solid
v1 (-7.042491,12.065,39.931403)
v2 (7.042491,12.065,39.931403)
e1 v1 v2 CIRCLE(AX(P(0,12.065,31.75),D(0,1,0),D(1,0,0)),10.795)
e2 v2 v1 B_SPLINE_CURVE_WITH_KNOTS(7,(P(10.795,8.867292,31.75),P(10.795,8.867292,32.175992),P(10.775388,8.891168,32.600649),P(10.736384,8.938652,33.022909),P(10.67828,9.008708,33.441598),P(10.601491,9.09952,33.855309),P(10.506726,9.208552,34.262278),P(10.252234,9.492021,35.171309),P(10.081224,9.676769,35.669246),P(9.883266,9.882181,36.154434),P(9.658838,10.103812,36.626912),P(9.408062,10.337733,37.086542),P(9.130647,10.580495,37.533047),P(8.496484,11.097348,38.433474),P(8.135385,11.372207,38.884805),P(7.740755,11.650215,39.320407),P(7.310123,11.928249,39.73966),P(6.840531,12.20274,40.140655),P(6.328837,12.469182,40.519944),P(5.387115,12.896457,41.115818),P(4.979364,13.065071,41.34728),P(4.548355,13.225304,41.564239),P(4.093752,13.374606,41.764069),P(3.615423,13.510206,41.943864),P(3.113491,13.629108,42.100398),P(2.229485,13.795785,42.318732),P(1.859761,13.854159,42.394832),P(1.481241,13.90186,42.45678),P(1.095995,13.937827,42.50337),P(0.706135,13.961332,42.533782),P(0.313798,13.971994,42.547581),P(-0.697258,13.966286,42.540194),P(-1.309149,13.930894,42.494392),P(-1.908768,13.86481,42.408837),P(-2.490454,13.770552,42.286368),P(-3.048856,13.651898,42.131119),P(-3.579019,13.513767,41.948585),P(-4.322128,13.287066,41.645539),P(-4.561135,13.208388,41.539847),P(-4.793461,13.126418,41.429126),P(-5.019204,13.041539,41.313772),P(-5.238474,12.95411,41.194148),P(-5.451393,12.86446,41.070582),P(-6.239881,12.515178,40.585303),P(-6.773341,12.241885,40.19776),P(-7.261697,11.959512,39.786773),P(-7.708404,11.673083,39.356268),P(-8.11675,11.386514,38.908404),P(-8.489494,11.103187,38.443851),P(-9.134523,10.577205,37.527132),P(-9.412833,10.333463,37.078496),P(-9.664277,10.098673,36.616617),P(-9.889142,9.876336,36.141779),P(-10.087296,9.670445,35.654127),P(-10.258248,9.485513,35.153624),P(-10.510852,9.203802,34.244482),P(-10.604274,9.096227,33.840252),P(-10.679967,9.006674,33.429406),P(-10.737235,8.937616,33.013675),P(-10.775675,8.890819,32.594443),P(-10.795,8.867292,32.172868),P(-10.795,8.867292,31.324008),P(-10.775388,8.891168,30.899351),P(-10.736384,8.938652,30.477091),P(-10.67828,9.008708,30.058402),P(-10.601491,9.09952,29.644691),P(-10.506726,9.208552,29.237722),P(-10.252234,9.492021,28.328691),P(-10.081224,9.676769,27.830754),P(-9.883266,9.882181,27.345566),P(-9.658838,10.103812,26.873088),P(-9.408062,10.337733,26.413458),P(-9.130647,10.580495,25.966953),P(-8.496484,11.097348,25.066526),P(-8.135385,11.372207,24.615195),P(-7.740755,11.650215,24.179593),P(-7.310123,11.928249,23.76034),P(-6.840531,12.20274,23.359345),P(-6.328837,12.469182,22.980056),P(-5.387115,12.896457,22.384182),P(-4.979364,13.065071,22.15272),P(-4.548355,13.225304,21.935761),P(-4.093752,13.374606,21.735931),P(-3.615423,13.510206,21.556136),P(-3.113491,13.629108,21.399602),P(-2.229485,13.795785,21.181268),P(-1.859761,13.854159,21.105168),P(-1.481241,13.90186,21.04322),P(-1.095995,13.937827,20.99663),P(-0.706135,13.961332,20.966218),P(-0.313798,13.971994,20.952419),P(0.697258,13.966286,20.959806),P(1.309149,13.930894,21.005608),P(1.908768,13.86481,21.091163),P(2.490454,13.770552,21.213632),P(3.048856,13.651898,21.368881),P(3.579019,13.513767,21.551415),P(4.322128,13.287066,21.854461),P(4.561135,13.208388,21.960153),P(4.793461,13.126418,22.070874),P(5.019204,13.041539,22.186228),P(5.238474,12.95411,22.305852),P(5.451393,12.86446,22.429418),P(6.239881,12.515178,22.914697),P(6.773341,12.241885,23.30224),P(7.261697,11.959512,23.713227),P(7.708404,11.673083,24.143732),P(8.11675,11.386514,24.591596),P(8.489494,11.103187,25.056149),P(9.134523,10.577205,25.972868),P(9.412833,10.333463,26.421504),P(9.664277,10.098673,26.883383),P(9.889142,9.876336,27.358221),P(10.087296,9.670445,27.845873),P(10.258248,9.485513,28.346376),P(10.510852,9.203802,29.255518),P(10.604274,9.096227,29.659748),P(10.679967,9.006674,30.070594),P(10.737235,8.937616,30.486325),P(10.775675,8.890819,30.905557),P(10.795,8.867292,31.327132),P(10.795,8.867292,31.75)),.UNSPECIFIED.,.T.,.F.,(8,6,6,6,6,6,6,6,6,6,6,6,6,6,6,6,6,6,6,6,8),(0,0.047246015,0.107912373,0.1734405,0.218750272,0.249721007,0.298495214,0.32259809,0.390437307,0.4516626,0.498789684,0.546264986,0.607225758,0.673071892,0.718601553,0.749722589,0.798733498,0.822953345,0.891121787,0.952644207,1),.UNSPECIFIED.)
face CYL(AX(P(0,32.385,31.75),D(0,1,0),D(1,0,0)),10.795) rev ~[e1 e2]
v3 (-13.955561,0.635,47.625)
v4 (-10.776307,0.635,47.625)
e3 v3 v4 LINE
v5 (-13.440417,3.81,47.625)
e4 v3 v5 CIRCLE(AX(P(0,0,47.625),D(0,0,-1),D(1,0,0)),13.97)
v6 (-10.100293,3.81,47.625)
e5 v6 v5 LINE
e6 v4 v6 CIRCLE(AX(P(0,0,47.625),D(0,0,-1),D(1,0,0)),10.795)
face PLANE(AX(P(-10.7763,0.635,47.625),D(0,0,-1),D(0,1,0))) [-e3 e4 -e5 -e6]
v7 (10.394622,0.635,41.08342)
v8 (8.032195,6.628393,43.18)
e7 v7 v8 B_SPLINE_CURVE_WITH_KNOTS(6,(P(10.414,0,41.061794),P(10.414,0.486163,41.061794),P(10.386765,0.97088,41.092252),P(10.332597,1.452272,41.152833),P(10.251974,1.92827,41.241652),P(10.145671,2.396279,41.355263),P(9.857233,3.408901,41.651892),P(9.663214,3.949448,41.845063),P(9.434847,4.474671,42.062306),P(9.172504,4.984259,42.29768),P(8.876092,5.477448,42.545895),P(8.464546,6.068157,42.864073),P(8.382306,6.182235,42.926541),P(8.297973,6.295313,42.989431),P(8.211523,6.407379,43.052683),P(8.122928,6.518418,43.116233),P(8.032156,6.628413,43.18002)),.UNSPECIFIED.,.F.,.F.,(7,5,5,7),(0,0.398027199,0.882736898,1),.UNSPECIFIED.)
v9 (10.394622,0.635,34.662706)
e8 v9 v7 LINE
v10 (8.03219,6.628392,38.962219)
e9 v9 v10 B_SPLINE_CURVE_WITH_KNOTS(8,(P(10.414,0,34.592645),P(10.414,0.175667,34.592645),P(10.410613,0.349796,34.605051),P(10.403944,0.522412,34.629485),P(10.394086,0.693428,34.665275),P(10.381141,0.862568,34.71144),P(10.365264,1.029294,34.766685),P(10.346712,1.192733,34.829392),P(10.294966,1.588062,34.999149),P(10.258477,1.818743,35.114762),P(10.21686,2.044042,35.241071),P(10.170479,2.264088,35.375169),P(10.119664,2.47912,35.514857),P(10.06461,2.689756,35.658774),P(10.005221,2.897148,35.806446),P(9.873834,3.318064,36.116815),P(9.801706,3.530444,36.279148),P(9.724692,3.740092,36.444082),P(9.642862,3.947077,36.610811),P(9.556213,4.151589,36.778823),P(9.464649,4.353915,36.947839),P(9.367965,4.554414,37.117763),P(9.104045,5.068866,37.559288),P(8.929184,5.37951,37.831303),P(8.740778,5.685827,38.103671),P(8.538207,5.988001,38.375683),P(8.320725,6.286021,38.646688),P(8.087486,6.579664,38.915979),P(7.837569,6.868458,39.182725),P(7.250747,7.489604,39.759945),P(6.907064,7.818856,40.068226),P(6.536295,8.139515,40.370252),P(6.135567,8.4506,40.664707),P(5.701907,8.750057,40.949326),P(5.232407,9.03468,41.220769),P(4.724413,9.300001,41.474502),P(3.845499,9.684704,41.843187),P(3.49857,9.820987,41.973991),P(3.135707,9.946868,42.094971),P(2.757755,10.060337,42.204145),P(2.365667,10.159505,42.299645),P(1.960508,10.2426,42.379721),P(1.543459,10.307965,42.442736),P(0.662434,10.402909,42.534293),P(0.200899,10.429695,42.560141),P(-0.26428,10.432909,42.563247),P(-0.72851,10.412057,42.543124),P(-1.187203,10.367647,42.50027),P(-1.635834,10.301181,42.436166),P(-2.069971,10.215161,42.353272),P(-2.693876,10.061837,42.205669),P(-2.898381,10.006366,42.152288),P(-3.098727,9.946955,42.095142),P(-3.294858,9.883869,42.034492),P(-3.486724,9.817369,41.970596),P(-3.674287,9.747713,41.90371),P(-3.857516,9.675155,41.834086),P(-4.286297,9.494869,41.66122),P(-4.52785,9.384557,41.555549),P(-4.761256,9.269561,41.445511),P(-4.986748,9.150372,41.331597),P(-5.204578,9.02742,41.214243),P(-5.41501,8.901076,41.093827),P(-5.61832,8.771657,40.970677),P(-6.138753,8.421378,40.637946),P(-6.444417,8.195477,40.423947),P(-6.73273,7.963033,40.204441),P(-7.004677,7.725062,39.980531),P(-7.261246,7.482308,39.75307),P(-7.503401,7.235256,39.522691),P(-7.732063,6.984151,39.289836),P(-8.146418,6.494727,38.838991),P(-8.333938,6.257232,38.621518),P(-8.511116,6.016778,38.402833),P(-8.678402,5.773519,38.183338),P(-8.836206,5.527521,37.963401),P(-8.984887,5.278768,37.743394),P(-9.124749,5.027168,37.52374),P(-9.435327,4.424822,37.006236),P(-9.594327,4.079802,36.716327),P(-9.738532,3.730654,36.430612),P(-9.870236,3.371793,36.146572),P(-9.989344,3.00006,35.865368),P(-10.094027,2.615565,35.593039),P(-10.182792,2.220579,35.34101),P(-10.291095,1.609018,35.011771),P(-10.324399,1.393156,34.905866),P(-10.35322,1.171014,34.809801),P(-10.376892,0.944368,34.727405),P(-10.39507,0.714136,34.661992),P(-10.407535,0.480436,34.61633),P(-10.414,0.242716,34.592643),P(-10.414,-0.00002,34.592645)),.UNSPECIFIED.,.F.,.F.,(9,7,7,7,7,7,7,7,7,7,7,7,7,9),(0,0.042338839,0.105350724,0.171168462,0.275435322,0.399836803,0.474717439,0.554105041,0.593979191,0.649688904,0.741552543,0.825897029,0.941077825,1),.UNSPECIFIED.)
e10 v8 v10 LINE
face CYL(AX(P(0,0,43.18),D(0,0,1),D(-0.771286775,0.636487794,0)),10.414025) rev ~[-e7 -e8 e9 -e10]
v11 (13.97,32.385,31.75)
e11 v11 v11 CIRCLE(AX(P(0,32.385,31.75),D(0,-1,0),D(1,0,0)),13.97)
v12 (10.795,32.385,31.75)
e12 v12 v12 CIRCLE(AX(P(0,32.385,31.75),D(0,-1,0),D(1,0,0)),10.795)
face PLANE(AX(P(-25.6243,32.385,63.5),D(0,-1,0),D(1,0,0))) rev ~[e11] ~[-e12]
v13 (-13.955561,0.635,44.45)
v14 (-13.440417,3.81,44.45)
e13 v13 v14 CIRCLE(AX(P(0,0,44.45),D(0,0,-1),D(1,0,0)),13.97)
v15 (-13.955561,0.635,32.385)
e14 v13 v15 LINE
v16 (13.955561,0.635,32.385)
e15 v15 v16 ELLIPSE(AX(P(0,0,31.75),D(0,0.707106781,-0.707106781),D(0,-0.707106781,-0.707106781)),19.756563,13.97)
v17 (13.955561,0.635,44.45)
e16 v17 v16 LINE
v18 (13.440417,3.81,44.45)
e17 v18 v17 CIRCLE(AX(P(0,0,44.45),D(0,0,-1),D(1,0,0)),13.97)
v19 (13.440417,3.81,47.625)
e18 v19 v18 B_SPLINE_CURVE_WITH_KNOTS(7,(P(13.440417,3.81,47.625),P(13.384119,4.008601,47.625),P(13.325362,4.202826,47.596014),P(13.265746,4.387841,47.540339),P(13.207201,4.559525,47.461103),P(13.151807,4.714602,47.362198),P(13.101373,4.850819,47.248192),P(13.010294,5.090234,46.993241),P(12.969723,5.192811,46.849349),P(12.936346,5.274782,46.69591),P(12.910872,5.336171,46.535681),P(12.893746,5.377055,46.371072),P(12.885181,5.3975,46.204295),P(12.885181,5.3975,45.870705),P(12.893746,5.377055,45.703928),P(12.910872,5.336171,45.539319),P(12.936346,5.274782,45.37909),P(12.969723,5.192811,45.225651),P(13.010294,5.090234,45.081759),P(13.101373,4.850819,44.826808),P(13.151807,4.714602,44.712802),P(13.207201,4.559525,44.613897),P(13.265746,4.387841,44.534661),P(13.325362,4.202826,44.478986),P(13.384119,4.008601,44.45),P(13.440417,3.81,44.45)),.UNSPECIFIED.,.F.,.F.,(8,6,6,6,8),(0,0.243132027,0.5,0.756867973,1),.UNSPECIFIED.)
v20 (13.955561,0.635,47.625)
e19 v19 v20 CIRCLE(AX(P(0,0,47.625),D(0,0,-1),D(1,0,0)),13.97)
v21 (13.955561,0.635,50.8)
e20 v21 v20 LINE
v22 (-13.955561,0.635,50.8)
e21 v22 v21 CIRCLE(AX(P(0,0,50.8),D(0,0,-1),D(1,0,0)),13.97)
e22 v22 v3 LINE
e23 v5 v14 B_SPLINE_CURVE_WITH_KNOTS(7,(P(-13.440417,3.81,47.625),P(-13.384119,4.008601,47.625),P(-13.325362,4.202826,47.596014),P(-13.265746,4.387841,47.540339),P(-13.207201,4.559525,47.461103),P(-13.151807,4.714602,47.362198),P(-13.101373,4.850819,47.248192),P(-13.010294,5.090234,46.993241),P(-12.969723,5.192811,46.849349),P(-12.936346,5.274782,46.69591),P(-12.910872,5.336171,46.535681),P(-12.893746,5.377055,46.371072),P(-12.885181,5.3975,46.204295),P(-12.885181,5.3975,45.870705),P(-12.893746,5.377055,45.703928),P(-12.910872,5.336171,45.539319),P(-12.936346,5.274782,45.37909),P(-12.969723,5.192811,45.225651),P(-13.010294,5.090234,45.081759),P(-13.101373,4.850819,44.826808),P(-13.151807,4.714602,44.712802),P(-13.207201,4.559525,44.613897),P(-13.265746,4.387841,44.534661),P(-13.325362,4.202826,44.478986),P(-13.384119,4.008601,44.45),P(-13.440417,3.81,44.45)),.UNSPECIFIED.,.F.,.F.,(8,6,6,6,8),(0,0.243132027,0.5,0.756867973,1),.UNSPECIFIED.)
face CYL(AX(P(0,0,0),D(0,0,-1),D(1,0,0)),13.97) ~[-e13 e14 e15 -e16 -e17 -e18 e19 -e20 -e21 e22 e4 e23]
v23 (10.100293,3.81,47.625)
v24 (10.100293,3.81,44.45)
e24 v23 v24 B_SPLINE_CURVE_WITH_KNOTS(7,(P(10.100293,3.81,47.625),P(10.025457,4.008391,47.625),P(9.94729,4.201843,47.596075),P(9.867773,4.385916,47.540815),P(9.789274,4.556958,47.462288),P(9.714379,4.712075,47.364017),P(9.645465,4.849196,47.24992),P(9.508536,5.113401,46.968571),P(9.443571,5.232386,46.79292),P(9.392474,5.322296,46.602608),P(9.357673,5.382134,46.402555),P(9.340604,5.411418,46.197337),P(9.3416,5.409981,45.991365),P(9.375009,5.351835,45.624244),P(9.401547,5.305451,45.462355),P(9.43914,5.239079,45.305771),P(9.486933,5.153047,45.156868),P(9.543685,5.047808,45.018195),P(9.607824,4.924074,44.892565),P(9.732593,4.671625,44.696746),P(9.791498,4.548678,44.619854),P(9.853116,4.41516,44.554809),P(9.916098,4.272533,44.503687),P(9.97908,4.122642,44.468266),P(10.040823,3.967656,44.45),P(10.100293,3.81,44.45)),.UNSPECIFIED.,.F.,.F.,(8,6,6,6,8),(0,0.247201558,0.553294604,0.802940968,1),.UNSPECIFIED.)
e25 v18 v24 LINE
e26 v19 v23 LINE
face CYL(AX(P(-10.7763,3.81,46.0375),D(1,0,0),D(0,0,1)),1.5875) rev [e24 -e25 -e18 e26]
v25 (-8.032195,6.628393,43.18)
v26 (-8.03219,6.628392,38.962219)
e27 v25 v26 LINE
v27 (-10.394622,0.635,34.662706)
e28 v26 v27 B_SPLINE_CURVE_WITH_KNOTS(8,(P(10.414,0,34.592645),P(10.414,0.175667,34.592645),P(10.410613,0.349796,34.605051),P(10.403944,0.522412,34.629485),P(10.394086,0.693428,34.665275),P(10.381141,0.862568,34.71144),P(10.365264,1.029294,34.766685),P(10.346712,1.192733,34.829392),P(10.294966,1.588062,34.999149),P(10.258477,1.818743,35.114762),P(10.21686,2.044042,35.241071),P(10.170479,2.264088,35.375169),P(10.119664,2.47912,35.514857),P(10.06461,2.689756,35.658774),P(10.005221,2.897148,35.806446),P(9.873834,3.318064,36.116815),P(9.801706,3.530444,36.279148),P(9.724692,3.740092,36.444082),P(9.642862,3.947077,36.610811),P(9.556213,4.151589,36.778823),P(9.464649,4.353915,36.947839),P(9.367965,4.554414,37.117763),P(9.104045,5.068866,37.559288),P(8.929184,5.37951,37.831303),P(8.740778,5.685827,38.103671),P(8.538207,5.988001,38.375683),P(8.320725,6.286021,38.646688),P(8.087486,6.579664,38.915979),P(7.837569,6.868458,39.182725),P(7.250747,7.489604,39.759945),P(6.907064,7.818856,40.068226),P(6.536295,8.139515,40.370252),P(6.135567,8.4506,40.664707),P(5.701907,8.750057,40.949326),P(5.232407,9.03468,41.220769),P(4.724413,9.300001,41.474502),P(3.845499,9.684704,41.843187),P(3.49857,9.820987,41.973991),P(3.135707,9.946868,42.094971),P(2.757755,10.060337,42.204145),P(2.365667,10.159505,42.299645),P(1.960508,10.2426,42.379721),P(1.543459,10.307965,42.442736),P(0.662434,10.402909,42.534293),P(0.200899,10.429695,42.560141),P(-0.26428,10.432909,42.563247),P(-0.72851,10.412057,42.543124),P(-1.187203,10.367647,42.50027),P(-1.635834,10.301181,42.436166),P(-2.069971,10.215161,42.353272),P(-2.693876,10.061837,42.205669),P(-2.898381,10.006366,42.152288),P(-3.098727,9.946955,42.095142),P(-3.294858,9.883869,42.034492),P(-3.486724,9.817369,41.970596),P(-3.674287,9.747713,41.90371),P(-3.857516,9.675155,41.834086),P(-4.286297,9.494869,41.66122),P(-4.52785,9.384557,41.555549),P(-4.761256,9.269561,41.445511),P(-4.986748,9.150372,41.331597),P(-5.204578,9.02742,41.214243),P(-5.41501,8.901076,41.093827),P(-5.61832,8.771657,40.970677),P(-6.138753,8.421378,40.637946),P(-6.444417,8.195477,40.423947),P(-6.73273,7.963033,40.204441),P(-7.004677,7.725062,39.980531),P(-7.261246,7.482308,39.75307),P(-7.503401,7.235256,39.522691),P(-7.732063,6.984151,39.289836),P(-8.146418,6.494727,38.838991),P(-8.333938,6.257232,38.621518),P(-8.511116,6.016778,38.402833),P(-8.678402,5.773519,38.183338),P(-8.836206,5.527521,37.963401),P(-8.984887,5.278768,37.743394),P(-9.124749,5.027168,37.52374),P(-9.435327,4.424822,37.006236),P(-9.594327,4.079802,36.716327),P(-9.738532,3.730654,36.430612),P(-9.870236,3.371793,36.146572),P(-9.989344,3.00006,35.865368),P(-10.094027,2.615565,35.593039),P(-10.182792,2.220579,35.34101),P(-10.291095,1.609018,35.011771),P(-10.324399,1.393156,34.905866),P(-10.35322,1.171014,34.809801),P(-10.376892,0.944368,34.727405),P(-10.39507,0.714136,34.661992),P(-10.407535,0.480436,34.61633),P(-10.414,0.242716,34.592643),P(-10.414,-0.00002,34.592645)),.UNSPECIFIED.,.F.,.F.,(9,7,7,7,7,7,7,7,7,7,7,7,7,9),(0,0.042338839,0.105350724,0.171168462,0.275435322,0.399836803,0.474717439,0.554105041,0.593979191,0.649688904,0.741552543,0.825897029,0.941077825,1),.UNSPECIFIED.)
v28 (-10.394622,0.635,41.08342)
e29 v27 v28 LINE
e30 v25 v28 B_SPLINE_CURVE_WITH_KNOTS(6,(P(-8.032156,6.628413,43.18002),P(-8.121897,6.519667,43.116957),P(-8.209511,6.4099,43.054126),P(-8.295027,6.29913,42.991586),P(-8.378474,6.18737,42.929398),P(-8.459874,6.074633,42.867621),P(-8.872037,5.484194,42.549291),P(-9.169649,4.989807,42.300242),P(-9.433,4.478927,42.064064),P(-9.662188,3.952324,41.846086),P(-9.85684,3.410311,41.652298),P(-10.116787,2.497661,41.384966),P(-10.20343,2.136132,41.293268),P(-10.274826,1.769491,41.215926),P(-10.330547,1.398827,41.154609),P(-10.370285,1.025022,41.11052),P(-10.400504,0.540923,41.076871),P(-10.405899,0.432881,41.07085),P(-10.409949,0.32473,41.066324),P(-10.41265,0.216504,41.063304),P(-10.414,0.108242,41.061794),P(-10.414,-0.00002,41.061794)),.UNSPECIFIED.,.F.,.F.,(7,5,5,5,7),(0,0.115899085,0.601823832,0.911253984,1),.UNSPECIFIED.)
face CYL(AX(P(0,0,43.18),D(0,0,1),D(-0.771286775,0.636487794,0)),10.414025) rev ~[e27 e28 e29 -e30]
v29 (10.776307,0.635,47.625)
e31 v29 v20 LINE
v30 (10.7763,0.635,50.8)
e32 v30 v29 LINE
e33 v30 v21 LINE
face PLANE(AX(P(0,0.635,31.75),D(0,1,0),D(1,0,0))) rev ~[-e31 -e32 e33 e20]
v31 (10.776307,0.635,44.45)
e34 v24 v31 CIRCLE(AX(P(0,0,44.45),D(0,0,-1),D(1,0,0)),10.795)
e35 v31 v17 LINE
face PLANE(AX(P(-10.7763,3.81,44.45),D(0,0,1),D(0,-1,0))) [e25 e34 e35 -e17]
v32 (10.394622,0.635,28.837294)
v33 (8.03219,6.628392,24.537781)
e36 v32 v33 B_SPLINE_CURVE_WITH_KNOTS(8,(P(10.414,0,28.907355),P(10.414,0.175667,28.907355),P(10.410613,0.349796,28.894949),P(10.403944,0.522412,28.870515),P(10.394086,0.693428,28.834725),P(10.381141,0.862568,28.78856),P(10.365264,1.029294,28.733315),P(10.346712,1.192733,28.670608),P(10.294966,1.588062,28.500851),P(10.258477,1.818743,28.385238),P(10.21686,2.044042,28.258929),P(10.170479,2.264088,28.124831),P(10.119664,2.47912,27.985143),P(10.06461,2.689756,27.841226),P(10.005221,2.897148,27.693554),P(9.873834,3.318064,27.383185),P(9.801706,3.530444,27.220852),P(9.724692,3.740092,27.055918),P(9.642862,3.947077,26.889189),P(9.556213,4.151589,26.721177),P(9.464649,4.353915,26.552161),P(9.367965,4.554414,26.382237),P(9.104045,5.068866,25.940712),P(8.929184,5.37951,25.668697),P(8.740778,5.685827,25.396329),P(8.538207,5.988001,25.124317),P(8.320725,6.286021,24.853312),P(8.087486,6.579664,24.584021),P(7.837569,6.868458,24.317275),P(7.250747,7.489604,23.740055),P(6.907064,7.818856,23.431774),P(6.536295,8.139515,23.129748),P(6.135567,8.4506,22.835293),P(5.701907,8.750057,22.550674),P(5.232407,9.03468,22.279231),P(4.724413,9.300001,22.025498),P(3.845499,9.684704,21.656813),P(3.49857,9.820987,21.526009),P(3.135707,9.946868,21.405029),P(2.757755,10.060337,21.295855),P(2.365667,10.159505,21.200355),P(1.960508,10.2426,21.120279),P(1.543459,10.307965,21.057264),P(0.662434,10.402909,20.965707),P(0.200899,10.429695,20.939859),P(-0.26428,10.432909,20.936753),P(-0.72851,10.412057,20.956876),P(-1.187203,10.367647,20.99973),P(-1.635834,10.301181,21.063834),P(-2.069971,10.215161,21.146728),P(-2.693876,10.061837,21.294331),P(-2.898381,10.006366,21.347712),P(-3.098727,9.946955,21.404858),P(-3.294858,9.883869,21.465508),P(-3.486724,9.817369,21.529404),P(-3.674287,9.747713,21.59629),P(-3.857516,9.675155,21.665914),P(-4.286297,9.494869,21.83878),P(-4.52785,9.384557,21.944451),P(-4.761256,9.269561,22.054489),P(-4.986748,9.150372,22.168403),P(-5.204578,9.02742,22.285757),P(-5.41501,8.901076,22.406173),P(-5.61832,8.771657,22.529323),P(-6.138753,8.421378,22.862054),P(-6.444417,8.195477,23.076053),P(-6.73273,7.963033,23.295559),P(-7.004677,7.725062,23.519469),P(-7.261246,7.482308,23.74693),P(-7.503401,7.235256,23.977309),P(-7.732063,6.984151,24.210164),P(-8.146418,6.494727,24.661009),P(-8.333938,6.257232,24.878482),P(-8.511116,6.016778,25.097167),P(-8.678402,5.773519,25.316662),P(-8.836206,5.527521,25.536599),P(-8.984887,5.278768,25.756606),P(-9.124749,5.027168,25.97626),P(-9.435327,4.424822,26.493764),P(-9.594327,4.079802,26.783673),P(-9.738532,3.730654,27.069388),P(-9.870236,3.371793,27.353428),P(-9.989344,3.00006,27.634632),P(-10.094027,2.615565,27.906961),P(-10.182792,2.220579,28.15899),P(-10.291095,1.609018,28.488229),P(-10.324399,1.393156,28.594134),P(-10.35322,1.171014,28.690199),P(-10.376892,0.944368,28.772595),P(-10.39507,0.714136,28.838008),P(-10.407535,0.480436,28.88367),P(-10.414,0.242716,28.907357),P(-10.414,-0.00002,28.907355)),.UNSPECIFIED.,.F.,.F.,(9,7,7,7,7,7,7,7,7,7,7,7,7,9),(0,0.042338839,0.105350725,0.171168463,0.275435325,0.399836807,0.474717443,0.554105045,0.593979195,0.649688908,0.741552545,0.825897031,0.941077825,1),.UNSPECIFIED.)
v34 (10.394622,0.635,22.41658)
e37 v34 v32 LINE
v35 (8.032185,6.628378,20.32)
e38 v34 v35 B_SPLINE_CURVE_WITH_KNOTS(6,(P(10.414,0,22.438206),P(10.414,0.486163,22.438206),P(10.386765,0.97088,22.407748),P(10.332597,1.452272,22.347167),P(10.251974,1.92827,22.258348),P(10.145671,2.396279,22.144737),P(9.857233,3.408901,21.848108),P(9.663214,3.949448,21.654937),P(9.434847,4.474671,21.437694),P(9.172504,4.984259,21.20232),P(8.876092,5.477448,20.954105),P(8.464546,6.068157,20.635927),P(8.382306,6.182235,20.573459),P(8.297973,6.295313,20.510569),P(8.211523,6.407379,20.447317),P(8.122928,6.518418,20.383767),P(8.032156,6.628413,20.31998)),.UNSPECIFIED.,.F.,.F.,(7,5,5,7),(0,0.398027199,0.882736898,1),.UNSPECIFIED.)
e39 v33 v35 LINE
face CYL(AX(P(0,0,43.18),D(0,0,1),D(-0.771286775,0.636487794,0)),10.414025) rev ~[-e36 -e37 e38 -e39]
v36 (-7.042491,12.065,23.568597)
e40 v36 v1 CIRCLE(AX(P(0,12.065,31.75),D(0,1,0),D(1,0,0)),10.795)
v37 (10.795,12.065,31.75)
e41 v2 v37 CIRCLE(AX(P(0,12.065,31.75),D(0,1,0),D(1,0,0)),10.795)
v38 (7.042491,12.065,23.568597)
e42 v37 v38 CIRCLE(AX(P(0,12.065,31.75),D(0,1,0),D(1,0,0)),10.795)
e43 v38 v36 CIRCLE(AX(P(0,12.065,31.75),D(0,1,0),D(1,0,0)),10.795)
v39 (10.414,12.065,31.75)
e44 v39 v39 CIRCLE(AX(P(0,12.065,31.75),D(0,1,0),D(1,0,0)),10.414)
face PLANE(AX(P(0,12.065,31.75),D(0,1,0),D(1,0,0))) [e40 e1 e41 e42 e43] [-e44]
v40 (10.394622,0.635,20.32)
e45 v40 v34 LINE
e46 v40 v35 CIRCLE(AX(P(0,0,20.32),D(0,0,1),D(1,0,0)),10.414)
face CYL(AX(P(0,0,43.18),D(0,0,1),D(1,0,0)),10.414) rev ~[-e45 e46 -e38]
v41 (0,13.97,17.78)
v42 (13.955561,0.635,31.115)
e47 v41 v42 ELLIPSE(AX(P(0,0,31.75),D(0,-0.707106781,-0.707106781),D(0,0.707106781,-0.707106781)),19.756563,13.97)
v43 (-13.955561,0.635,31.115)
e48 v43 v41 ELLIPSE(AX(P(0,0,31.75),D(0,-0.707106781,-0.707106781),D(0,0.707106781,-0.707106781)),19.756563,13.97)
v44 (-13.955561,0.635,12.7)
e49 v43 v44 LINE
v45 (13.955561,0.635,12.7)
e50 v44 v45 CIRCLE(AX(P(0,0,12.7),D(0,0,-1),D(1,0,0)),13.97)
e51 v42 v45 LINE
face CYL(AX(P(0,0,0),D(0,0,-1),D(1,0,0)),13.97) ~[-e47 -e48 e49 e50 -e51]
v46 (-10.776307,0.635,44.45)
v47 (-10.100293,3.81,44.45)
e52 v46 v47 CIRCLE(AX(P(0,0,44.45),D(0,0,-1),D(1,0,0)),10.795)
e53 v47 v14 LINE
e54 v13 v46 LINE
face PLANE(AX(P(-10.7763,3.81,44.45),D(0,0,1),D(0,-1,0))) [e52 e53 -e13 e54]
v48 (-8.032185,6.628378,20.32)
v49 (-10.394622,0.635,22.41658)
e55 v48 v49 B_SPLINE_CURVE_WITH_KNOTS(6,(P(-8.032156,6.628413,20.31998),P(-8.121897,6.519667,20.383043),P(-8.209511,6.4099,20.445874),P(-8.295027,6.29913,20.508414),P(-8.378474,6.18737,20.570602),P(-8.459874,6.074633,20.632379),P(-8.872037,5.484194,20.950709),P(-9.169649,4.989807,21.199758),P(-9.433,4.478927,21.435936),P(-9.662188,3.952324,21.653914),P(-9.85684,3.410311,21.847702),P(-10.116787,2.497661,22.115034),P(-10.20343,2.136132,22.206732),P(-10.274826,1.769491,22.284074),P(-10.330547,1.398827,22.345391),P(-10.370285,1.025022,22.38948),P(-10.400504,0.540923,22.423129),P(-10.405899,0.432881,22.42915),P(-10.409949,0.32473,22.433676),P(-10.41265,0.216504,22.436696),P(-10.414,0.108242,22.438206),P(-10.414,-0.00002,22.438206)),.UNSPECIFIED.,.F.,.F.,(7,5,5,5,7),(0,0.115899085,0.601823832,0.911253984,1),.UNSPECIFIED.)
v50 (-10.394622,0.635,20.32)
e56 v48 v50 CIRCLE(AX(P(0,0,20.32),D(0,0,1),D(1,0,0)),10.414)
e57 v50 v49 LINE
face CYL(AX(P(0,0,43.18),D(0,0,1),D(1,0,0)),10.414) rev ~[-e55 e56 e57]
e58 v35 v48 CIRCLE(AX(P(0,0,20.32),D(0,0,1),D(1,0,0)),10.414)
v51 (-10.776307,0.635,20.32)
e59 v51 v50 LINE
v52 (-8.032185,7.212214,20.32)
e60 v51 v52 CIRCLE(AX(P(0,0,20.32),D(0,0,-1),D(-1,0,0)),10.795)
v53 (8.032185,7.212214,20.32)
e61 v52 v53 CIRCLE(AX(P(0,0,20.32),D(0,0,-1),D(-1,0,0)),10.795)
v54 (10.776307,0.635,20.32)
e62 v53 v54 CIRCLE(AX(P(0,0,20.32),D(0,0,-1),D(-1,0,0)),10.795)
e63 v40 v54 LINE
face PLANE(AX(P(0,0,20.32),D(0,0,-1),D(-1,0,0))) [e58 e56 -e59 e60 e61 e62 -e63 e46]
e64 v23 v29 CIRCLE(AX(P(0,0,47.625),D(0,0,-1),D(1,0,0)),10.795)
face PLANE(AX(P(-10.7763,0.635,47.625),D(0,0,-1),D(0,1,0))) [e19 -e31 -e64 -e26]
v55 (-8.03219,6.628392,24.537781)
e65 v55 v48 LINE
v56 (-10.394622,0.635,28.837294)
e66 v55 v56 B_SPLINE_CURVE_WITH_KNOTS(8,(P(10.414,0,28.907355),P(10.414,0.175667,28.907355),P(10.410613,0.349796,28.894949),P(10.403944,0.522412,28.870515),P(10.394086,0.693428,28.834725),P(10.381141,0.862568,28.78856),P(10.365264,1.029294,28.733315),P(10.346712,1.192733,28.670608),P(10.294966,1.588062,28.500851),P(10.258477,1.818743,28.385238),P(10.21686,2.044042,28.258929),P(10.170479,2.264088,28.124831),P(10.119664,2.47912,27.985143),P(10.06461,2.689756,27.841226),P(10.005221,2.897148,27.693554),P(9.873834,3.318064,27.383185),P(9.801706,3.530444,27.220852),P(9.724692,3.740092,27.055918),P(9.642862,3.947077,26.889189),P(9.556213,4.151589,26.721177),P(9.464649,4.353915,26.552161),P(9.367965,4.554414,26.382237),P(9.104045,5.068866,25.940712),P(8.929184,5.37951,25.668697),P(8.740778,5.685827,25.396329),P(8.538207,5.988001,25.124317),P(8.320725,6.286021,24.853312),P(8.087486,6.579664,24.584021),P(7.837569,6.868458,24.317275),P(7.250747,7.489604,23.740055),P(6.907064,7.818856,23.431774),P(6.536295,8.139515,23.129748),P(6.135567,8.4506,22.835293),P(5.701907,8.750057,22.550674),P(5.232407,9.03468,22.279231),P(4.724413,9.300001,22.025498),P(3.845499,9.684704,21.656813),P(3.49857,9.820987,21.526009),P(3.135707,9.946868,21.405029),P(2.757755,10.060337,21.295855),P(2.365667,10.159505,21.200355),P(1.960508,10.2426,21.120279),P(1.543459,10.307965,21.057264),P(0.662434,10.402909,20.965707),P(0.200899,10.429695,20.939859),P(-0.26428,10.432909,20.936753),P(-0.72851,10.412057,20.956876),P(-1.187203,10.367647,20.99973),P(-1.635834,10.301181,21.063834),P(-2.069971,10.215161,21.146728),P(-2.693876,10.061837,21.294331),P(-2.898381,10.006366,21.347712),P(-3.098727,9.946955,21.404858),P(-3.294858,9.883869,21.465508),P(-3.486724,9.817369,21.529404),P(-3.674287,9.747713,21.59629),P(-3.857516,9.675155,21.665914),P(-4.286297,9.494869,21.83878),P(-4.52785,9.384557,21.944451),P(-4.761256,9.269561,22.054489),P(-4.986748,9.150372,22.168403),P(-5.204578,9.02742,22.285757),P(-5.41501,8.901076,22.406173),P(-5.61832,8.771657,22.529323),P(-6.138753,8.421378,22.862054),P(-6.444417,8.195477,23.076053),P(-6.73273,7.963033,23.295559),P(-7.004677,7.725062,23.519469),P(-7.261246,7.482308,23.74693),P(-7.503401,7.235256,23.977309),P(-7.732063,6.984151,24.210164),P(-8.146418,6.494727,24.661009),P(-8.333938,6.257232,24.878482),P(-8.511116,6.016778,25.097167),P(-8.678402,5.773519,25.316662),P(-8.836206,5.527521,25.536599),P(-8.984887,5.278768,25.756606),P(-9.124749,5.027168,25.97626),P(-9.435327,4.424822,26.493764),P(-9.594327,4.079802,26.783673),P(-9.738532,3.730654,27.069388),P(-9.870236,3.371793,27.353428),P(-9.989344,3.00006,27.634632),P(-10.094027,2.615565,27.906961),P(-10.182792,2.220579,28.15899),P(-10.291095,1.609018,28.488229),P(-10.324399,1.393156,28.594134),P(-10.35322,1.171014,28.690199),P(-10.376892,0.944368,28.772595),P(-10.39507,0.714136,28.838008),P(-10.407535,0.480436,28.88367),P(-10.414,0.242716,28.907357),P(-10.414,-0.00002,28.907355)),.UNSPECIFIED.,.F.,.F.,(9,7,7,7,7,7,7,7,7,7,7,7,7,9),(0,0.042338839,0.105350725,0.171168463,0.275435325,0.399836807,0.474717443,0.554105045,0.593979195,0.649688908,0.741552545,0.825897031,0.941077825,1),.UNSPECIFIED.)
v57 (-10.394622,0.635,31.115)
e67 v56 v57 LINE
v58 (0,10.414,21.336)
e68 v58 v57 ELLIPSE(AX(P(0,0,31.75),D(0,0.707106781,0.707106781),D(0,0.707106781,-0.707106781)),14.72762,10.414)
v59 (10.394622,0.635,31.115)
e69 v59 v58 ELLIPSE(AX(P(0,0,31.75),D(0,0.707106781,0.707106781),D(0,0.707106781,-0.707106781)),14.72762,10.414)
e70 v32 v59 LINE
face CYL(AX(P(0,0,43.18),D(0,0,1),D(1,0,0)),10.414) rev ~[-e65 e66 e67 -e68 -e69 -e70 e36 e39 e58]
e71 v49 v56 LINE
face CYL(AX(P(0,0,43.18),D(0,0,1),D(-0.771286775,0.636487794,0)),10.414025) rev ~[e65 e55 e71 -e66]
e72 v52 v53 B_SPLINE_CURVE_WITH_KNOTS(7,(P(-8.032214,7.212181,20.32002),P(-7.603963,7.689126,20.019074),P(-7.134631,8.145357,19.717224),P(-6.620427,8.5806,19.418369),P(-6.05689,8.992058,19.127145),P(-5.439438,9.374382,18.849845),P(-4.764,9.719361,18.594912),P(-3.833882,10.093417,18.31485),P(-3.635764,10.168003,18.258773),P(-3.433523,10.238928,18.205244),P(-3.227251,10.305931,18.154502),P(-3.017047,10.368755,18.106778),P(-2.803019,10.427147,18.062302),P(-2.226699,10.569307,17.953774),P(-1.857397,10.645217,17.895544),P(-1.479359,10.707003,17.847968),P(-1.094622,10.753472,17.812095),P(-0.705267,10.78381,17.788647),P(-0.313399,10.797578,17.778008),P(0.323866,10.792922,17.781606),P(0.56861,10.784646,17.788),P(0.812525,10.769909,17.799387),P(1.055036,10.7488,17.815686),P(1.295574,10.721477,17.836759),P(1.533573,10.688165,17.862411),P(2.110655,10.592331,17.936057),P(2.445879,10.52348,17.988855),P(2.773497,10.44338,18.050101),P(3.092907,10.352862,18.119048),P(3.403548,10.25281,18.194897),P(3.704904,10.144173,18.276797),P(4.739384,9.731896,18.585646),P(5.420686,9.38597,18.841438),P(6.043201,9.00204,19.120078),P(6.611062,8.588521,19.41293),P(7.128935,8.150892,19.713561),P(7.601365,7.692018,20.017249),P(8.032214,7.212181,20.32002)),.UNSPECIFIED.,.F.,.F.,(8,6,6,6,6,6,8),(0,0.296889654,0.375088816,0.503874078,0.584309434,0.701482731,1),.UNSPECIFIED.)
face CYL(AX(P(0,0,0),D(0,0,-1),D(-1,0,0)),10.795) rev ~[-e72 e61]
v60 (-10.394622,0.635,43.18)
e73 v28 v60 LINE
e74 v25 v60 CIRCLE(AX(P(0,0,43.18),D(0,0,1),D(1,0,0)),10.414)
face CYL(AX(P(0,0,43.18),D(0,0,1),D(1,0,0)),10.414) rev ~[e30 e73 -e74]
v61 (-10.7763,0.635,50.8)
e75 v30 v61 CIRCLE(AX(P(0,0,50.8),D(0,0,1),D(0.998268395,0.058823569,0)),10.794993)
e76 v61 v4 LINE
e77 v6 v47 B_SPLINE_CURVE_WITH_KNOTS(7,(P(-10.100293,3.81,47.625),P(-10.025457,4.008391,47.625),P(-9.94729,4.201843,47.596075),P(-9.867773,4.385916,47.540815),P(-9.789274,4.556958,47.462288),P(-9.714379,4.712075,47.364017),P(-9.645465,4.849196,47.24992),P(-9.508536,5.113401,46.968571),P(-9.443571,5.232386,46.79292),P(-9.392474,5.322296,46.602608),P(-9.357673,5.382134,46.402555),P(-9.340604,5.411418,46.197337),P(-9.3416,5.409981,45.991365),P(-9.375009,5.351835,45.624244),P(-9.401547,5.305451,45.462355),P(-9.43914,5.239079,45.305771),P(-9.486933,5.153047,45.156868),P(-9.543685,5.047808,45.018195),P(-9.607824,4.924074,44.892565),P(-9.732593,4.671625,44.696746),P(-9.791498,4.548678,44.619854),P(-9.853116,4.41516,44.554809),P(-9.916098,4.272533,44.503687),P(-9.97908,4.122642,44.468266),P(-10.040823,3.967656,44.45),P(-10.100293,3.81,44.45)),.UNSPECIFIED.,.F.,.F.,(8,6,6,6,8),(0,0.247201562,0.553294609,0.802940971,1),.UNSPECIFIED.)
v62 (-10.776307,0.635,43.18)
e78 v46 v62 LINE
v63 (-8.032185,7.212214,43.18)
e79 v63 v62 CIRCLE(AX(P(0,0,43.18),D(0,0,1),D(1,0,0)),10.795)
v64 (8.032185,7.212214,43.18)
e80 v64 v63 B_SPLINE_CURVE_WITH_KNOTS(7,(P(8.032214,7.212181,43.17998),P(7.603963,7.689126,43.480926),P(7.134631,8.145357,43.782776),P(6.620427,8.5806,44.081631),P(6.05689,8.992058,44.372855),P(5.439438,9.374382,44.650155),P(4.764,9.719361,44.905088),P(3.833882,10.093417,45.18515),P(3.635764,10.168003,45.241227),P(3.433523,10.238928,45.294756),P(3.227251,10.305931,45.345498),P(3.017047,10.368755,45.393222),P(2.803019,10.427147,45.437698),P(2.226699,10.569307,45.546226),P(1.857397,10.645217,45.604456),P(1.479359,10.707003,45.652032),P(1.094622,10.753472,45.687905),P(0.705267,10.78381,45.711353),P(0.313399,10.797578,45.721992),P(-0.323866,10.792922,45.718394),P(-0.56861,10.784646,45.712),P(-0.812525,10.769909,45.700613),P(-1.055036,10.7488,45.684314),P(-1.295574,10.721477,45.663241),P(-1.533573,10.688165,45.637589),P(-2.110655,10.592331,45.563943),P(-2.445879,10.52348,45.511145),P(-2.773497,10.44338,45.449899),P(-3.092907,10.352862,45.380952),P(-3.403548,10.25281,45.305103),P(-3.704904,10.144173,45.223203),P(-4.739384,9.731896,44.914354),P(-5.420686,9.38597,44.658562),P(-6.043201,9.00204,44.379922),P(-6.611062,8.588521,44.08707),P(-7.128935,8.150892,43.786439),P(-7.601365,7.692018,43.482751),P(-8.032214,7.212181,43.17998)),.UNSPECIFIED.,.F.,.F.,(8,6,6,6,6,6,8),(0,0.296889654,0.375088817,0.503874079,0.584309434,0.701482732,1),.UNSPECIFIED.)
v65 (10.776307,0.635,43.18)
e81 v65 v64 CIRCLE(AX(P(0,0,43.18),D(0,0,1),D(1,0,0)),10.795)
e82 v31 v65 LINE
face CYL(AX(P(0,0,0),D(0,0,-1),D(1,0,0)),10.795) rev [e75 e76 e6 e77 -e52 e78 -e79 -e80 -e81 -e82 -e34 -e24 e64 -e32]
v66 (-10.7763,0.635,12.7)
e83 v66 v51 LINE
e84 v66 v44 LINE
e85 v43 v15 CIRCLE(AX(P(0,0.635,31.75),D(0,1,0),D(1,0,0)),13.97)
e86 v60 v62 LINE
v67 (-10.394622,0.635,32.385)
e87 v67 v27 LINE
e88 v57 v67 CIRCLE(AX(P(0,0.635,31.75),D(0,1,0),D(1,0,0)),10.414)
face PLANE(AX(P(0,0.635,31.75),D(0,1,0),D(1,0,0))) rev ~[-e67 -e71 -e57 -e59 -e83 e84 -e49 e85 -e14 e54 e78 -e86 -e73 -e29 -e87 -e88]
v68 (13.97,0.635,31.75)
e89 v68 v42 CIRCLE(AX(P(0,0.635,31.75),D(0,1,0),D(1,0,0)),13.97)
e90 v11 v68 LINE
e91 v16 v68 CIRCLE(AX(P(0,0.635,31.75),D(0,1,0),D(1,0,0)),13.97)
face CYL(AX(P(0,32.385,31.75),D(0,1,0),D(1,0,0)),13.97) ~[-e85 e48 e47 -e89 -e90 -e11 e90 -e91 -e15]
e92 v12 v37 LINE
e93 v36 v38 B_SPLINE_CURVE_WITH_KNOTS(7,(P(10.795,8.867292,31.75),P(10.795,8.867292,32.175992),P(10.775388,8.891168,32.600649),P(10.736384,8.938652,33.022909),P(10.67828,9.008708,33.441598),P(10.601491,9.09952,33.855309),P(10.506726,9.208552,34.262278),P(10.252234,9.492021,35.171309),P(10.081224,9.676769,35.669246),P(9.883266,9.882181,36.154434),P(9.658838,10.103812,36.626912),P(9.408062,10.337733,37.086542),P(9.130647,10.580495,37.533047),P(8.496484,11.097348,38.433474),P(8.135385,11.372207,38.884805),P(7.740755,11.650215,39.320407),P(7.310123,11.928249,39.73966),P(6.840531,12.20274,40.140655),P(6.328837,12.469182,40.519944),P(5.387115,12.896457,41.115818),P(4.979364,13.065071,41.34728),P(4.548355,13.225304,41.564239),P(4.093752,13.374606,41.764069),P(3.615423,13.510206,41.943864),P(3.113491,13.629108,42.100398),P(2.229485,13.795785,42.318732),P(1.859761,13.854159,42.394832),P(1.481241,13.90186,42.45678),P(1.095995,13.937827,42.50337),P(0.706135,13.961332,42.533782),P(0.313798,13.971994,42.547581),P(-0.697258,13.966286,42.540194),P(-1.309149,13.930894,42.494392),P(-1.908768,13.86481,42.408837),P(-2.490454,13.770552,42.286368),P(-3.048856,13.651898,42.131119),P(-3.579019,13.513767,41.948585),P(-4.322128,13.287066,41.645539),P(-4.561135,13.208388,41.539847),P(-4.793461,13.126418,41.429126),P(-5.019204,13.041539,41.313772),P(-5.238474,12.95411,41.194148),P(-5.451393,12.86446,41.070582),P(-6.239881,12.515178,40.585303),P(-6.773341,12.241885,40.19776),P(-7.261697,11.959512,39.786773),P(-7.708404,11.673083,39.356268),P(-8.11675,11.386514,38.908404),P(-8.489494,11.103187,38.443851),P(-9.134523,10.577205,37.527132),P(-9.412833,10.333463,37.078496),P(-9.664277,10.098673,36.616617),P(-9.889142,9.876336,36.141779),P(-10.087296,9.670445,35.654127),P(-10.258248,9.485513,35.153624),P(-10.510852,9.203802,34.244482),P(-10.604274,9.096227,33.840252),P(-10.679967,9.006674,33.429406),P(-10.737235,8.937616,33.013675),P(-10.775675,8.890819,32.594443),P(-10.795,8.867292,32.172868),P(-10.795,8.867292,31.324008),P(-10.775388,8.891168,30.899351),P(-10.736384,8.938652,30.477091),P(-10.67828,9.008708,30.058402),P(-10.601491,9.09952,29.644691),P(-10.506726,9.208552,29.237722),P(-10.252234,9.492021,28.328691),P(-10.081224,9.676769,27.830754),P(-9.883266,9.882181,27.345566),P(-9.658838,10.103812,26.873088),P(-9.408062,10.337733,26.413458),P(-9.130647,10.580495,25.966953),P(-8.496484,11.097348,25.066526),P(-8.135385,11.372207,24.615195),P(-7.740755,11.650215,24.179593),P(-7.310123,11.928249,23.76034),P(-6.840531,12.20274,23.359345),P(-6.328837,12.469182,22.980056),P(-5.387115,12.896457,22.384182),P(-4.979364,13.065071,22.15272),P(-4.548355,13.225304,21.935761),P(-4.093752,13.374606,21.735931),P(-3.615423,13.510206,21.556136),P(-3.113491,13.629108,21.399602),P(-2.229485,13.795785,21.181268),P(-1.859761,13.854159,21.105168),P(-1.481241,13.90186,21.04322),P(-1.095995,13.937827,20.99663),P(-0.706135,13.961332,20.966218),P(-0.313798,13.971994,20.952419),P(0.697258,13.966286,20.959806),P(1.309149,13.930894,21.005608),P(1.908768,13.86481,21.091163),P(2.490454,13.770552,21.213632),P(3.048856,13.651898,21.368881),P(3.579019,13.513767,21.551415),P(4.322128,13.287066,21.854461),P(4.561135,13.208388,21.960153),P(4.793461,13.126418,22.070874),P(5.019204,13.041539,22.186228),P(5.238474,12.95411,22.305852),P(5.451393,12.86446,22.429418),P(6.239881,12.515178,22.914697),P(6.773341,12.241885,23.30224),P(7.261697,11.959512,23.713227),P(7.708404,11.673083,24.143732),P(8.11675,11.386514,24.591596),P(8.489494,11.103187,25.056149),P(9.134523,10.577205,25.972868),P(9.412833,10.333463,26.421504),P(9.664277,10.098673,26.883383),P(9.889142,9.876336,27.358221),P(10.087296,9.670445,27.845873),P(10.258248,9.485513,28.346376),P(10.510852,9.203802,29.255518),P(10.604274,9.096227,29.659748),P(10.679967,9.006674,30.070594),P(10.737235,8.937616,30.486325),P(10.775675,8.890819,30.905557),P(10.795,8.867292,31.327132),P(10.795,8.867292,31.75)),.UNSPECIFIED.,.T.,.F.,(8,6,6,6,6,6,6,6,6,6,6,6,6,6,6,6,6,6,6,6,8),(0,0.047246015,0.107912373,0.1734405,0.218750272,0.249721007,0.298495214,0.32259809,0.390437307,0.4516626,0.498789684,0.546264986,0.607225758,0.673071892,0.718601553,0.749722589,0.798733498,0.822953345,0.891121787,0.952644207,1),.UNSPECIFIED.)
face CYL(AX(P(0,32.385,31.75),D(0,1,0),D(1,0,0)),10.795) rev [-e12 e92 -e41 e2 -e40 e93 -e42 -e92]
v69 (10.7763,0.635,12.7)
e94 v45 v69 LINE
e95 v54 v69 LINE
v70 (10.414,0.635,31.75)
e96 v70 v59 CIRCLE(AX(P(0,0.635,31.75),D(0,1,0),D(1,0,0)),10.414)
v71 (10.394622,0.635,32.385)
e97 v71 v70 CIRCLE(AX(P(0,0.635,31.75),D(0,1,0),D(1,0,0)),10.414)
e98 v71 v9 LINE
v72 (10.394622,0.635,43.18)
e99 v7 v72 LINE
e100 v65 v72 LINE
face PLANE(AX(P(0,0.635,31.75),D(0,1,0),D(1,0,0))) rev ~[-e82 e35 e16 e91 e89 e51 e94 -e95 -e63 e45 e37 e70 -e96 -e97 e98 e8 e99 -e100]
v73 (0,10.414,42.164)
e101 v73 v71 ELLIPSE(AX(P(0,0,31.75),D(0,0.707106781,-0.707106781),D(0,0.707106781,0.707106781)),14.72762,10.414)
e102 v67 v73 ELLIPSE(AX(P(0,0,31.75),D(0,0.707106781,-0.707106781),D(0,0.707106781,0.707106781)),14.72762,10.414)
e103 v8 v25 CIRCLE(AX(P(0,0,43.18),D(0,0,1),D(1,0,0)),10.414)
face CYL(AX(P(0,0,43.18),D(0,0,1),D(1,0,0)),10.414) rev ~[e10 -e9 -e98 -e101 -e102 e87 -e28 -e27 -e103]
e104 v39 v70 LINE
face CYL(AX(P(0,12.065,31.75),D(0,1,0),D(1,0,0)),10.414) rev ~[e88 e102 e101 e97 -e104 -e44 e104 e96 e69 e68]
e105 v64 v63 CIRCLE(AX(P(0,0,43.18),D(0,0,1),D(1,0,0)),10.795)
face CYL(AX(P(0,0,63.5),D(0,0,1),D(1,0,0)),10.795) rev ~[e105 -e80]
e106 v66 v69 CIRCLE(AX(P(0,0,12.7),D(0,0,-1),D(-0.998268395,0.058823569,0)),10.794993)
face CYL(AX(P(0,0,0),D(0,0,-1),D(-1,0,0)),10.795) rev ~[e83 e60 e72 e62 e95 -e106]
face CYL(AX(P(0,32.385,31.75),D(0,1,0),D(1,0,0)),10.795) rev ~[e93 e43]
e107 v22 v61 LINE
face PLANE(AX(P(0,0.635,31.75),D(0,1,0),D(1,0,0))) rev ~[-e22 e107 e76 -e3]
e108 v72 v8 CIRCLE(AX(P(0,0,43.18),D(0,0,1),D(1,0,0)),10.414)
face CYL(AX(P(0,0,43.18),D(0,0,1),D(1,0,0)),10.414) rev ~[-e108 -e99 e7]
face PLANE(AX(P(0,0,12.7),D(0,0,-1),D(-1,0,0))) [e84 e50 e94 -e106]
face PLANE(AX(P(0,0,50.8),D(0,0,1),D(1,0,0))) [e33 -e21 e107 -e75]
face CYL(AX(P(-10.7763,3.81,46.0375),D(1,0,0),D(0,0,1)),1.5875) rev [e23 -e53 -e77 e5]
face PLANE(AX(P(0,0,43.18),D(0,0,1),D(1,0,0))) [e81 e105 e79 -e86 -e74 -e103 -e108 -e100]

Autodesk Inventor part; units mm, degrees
sketch "Sketch1" plane through (0, 0, 0) normal (0, 0, 1) x (1, 0, 0)
  circle A0 centre (0, 0) radius 13.97
  circle A1 centre (0, 0) radius 10.795
  dimension "d0" = 27.94
  dimension "d2" = 21.59
extrude "Extrusion1" add sketch "Sketch1" along normal blind 63.5
ref_plane "Work Plane1" through (0, 0, 43.18) normal (0, 0, 1) x (1, 0, 0)
sketch "Sketch2" plane through (0, 0, 43.18) normal (0, 0, 1) x (1, 0, 0)
  circle A0 centre (0, 0) radius 10.414
  circle A1 centre (0, 0) radius 10.795
  dimension "d6" = 20.828
  dimension "d9" = 21.59
extrude "Extrusion2" add sketch "Sketch2" against normal blind 28.829
sketch "Sketch3" plane through (0, 0, 63.5) normal (0, 0, 1) x (1, 0, 0)
  circle A0 centre (0, 0) radius 10.795 projected
  circle A1 centre (0, 0) radius 13.97 projected
  line L0 (-25.6243, 13.97) -> (27.2368, 13.97)
ref_plane "Work Plane8" through (-25.6243, 32.385, 63.5) normal (0, -1, 0) x (1, 0, 0)
ref_plane "Work Plane7" through (-25.6243, 13.97, 63.5) normal (0, -1, 0) x (1, 0, 0)
sketch "Sketch10" plane through (0, 0, 0) normal (0, 0, -1) x (-1, 0, 0)
  circle A0 centre (0, 0) radius 10.795 projected
extrude "Extrusion8" cut sketch "Sketch10" against normal blind 20.32
sketch "Sketch11" plane through (-25.6243, 32.385, 63.5) normal (0, -1, 0) x (1, 0, 0)
  circle A0 centre (25.6243, -31.75) radius 13.97
  circle A1 centre (25.6243, -31.75) radius 10.795
  point P0 (25.6243, -63.5)
  dimension "d45" = 31.75
  dimension "d46" = 27.94
  dimension "d47" = 21.59
extrude "Extrusion9" add sketch "Sketch11" along normal blind 32.385
sketch "Sketch12" plane through (0, 0, 43.18) normal (0, 0, 1) x (1, 0, 0)
  arc A0 (-8.0322, 6.6284) -> (8.0322, 6.6284) centre (0, 0) ccw projected
  circle A1 centre (0, 0) radius 10.414
extrude "Extrusion10" cut sketch "Sketch12" against normal blind 76.2
sketch "Sketch13" plane through (0, 32.385, 31.75) normal (0, 1, 0) x (1, 0, 0)
  circle A0 centre (0, 0) radius 10.795 projected
  point P0 (0, 31.75)
extrude "Extrusion11" cut sketch "Sketch13" against normal blind 32.385
ref_plane "Work Plane9" through (0, 12.065, 31.75) normal (0, 1, 0) x (1, 0, 0)
sketch "Sketch14" plane through (0, 12.065, 31.75) normal (0, 1, 0) x (1, 0, 0)
  circle A0 centre (0, 0) radius 10.795
  circle A1 centre (0, 0) radius 10.414
  point P0 (0, 31.75)
  dimension "d55" = 21.59
  dimension "d57" = 20.828
extrude "Extrusion12" add sketch "Sketch14" against normal blind 12.7
extrude "Extrusion13" cut sketch "Sketch2" along normal mid plane 76.2 contours A0
sketch "Sketch15" plane through (0, 0, 63.5) normal (0, 0, 1) x (1, 0, 0)
  circle A0 centre (0, 0) radius 10.795 projected
extrude "Extrusion14" cut sketch "Sketch15" against normal blind 20.32
sketch "Sketch16" plane through (0, 0, 0) normal (0, 0, -1) x (-1, 0, 0)
  circle A0 centre (0, 0) radius 10.795 projected
extrude "Extrusion15" cut sketch "Sketch16" against normal blind 20.32
ref_plane "Work Plane10" through (0, 0.635, 31.75) normal (0, 1, 0) x (1, 0, 0)
sketch "Sketch17" plane through (0, 0.635, 31.75) normal (0, 1, 0) x (1, 0, 0)
  line L0 (-45.1678, 43.2051) -> (58.2697, 43.2051)
  line L1 (58.2697, 43.2051) -> (58.2697, -50.7572)
  line L2 (58.2697, -50.7572) -> (-45.1678, -50.7572)
  line L3 (-45.1678, -50.7572) -> (-45.1678, 43.2051)
  point P0 (0, 31.75)
extrude "Extrusion16" cut sketch "Sketch17" against normal blind 25.4
sketch "Sketch18" plane through (0, 0, 63.5) normal (0, 0, 1) x (1, 0, 0)
  line L0 (-13.9556, 0.635) -> (-10.7763, 0.635) projected
  arc A0 (10.7763, 0.635) -> (-10.7763, 0.635) centre (0, 0) ccw projected
  line L1 (10.7763, 0.635) -> (13.9556, 0.635) projected
  arc A1 (13.9556, 0.635) -> (-13.9556, 0.635) centre (0, 0) ccw projected
extrude "Extrusion17" cut sketch "Sketch18" against normal blind 12.7
sketch "Sketch19" plane through (0, 0, 0) normal (0, 0, -1) x (-1, 0, 0)
  line L0 (10.7763, 0.635) -> (13.9556, 0.635) projected
  arc A0 (13.9556, 0.635) -> (-13.9556, 0.635) centre (0, 0) ccw projected
  line L1 (-13.9556, 0.635) -> (-10.7763, 0.635) projected
  arc A1 (10.7763, 0.635) -> (-10.7763, 0.635) centre (0, 0) ccw projected
extrude "Extrusion18" cut sketch "Sketch19" against normal blind 12.7
ref_plane "Work Plane11" through (-10.7763, 0.635, 0) normal (-1, 0, 0) x (0, 0, -1)
sketch "Sketch20" plane through (-10.7763, 0.635, 0) normal (-1, 0, 0) x (0, 0, -1)
  arc A0 (-47.625, -3.175) -> (-44.45, -3.175) centre (-46.0375, -3.175) ccw
  line L0 (-44.45, -3.175) -> (-44.45, 0)
  line L1 (-44.45, 0) -> (-47.625, 0)
  line L2 (-47.625, 0) -> (-47.625, -3.175)
  point P0 (0, 0.635)
  point P1 (-50.8, 0)
  point P2 (-46.0375, 0)
  dimension "d74" = 0.635
  dimension "d75" = 50.8
  dimension "d76" = 3.175
  dimension "d77" = 3.175
  dimension "d78" = 1.5875
  dimension "d79" = 3.175
extrude "Extrusion19" cut sketch "Sketch20" along normal mid plane 50.8
properties part number "0.5 Frame Mount" material "PVC-Piping"
